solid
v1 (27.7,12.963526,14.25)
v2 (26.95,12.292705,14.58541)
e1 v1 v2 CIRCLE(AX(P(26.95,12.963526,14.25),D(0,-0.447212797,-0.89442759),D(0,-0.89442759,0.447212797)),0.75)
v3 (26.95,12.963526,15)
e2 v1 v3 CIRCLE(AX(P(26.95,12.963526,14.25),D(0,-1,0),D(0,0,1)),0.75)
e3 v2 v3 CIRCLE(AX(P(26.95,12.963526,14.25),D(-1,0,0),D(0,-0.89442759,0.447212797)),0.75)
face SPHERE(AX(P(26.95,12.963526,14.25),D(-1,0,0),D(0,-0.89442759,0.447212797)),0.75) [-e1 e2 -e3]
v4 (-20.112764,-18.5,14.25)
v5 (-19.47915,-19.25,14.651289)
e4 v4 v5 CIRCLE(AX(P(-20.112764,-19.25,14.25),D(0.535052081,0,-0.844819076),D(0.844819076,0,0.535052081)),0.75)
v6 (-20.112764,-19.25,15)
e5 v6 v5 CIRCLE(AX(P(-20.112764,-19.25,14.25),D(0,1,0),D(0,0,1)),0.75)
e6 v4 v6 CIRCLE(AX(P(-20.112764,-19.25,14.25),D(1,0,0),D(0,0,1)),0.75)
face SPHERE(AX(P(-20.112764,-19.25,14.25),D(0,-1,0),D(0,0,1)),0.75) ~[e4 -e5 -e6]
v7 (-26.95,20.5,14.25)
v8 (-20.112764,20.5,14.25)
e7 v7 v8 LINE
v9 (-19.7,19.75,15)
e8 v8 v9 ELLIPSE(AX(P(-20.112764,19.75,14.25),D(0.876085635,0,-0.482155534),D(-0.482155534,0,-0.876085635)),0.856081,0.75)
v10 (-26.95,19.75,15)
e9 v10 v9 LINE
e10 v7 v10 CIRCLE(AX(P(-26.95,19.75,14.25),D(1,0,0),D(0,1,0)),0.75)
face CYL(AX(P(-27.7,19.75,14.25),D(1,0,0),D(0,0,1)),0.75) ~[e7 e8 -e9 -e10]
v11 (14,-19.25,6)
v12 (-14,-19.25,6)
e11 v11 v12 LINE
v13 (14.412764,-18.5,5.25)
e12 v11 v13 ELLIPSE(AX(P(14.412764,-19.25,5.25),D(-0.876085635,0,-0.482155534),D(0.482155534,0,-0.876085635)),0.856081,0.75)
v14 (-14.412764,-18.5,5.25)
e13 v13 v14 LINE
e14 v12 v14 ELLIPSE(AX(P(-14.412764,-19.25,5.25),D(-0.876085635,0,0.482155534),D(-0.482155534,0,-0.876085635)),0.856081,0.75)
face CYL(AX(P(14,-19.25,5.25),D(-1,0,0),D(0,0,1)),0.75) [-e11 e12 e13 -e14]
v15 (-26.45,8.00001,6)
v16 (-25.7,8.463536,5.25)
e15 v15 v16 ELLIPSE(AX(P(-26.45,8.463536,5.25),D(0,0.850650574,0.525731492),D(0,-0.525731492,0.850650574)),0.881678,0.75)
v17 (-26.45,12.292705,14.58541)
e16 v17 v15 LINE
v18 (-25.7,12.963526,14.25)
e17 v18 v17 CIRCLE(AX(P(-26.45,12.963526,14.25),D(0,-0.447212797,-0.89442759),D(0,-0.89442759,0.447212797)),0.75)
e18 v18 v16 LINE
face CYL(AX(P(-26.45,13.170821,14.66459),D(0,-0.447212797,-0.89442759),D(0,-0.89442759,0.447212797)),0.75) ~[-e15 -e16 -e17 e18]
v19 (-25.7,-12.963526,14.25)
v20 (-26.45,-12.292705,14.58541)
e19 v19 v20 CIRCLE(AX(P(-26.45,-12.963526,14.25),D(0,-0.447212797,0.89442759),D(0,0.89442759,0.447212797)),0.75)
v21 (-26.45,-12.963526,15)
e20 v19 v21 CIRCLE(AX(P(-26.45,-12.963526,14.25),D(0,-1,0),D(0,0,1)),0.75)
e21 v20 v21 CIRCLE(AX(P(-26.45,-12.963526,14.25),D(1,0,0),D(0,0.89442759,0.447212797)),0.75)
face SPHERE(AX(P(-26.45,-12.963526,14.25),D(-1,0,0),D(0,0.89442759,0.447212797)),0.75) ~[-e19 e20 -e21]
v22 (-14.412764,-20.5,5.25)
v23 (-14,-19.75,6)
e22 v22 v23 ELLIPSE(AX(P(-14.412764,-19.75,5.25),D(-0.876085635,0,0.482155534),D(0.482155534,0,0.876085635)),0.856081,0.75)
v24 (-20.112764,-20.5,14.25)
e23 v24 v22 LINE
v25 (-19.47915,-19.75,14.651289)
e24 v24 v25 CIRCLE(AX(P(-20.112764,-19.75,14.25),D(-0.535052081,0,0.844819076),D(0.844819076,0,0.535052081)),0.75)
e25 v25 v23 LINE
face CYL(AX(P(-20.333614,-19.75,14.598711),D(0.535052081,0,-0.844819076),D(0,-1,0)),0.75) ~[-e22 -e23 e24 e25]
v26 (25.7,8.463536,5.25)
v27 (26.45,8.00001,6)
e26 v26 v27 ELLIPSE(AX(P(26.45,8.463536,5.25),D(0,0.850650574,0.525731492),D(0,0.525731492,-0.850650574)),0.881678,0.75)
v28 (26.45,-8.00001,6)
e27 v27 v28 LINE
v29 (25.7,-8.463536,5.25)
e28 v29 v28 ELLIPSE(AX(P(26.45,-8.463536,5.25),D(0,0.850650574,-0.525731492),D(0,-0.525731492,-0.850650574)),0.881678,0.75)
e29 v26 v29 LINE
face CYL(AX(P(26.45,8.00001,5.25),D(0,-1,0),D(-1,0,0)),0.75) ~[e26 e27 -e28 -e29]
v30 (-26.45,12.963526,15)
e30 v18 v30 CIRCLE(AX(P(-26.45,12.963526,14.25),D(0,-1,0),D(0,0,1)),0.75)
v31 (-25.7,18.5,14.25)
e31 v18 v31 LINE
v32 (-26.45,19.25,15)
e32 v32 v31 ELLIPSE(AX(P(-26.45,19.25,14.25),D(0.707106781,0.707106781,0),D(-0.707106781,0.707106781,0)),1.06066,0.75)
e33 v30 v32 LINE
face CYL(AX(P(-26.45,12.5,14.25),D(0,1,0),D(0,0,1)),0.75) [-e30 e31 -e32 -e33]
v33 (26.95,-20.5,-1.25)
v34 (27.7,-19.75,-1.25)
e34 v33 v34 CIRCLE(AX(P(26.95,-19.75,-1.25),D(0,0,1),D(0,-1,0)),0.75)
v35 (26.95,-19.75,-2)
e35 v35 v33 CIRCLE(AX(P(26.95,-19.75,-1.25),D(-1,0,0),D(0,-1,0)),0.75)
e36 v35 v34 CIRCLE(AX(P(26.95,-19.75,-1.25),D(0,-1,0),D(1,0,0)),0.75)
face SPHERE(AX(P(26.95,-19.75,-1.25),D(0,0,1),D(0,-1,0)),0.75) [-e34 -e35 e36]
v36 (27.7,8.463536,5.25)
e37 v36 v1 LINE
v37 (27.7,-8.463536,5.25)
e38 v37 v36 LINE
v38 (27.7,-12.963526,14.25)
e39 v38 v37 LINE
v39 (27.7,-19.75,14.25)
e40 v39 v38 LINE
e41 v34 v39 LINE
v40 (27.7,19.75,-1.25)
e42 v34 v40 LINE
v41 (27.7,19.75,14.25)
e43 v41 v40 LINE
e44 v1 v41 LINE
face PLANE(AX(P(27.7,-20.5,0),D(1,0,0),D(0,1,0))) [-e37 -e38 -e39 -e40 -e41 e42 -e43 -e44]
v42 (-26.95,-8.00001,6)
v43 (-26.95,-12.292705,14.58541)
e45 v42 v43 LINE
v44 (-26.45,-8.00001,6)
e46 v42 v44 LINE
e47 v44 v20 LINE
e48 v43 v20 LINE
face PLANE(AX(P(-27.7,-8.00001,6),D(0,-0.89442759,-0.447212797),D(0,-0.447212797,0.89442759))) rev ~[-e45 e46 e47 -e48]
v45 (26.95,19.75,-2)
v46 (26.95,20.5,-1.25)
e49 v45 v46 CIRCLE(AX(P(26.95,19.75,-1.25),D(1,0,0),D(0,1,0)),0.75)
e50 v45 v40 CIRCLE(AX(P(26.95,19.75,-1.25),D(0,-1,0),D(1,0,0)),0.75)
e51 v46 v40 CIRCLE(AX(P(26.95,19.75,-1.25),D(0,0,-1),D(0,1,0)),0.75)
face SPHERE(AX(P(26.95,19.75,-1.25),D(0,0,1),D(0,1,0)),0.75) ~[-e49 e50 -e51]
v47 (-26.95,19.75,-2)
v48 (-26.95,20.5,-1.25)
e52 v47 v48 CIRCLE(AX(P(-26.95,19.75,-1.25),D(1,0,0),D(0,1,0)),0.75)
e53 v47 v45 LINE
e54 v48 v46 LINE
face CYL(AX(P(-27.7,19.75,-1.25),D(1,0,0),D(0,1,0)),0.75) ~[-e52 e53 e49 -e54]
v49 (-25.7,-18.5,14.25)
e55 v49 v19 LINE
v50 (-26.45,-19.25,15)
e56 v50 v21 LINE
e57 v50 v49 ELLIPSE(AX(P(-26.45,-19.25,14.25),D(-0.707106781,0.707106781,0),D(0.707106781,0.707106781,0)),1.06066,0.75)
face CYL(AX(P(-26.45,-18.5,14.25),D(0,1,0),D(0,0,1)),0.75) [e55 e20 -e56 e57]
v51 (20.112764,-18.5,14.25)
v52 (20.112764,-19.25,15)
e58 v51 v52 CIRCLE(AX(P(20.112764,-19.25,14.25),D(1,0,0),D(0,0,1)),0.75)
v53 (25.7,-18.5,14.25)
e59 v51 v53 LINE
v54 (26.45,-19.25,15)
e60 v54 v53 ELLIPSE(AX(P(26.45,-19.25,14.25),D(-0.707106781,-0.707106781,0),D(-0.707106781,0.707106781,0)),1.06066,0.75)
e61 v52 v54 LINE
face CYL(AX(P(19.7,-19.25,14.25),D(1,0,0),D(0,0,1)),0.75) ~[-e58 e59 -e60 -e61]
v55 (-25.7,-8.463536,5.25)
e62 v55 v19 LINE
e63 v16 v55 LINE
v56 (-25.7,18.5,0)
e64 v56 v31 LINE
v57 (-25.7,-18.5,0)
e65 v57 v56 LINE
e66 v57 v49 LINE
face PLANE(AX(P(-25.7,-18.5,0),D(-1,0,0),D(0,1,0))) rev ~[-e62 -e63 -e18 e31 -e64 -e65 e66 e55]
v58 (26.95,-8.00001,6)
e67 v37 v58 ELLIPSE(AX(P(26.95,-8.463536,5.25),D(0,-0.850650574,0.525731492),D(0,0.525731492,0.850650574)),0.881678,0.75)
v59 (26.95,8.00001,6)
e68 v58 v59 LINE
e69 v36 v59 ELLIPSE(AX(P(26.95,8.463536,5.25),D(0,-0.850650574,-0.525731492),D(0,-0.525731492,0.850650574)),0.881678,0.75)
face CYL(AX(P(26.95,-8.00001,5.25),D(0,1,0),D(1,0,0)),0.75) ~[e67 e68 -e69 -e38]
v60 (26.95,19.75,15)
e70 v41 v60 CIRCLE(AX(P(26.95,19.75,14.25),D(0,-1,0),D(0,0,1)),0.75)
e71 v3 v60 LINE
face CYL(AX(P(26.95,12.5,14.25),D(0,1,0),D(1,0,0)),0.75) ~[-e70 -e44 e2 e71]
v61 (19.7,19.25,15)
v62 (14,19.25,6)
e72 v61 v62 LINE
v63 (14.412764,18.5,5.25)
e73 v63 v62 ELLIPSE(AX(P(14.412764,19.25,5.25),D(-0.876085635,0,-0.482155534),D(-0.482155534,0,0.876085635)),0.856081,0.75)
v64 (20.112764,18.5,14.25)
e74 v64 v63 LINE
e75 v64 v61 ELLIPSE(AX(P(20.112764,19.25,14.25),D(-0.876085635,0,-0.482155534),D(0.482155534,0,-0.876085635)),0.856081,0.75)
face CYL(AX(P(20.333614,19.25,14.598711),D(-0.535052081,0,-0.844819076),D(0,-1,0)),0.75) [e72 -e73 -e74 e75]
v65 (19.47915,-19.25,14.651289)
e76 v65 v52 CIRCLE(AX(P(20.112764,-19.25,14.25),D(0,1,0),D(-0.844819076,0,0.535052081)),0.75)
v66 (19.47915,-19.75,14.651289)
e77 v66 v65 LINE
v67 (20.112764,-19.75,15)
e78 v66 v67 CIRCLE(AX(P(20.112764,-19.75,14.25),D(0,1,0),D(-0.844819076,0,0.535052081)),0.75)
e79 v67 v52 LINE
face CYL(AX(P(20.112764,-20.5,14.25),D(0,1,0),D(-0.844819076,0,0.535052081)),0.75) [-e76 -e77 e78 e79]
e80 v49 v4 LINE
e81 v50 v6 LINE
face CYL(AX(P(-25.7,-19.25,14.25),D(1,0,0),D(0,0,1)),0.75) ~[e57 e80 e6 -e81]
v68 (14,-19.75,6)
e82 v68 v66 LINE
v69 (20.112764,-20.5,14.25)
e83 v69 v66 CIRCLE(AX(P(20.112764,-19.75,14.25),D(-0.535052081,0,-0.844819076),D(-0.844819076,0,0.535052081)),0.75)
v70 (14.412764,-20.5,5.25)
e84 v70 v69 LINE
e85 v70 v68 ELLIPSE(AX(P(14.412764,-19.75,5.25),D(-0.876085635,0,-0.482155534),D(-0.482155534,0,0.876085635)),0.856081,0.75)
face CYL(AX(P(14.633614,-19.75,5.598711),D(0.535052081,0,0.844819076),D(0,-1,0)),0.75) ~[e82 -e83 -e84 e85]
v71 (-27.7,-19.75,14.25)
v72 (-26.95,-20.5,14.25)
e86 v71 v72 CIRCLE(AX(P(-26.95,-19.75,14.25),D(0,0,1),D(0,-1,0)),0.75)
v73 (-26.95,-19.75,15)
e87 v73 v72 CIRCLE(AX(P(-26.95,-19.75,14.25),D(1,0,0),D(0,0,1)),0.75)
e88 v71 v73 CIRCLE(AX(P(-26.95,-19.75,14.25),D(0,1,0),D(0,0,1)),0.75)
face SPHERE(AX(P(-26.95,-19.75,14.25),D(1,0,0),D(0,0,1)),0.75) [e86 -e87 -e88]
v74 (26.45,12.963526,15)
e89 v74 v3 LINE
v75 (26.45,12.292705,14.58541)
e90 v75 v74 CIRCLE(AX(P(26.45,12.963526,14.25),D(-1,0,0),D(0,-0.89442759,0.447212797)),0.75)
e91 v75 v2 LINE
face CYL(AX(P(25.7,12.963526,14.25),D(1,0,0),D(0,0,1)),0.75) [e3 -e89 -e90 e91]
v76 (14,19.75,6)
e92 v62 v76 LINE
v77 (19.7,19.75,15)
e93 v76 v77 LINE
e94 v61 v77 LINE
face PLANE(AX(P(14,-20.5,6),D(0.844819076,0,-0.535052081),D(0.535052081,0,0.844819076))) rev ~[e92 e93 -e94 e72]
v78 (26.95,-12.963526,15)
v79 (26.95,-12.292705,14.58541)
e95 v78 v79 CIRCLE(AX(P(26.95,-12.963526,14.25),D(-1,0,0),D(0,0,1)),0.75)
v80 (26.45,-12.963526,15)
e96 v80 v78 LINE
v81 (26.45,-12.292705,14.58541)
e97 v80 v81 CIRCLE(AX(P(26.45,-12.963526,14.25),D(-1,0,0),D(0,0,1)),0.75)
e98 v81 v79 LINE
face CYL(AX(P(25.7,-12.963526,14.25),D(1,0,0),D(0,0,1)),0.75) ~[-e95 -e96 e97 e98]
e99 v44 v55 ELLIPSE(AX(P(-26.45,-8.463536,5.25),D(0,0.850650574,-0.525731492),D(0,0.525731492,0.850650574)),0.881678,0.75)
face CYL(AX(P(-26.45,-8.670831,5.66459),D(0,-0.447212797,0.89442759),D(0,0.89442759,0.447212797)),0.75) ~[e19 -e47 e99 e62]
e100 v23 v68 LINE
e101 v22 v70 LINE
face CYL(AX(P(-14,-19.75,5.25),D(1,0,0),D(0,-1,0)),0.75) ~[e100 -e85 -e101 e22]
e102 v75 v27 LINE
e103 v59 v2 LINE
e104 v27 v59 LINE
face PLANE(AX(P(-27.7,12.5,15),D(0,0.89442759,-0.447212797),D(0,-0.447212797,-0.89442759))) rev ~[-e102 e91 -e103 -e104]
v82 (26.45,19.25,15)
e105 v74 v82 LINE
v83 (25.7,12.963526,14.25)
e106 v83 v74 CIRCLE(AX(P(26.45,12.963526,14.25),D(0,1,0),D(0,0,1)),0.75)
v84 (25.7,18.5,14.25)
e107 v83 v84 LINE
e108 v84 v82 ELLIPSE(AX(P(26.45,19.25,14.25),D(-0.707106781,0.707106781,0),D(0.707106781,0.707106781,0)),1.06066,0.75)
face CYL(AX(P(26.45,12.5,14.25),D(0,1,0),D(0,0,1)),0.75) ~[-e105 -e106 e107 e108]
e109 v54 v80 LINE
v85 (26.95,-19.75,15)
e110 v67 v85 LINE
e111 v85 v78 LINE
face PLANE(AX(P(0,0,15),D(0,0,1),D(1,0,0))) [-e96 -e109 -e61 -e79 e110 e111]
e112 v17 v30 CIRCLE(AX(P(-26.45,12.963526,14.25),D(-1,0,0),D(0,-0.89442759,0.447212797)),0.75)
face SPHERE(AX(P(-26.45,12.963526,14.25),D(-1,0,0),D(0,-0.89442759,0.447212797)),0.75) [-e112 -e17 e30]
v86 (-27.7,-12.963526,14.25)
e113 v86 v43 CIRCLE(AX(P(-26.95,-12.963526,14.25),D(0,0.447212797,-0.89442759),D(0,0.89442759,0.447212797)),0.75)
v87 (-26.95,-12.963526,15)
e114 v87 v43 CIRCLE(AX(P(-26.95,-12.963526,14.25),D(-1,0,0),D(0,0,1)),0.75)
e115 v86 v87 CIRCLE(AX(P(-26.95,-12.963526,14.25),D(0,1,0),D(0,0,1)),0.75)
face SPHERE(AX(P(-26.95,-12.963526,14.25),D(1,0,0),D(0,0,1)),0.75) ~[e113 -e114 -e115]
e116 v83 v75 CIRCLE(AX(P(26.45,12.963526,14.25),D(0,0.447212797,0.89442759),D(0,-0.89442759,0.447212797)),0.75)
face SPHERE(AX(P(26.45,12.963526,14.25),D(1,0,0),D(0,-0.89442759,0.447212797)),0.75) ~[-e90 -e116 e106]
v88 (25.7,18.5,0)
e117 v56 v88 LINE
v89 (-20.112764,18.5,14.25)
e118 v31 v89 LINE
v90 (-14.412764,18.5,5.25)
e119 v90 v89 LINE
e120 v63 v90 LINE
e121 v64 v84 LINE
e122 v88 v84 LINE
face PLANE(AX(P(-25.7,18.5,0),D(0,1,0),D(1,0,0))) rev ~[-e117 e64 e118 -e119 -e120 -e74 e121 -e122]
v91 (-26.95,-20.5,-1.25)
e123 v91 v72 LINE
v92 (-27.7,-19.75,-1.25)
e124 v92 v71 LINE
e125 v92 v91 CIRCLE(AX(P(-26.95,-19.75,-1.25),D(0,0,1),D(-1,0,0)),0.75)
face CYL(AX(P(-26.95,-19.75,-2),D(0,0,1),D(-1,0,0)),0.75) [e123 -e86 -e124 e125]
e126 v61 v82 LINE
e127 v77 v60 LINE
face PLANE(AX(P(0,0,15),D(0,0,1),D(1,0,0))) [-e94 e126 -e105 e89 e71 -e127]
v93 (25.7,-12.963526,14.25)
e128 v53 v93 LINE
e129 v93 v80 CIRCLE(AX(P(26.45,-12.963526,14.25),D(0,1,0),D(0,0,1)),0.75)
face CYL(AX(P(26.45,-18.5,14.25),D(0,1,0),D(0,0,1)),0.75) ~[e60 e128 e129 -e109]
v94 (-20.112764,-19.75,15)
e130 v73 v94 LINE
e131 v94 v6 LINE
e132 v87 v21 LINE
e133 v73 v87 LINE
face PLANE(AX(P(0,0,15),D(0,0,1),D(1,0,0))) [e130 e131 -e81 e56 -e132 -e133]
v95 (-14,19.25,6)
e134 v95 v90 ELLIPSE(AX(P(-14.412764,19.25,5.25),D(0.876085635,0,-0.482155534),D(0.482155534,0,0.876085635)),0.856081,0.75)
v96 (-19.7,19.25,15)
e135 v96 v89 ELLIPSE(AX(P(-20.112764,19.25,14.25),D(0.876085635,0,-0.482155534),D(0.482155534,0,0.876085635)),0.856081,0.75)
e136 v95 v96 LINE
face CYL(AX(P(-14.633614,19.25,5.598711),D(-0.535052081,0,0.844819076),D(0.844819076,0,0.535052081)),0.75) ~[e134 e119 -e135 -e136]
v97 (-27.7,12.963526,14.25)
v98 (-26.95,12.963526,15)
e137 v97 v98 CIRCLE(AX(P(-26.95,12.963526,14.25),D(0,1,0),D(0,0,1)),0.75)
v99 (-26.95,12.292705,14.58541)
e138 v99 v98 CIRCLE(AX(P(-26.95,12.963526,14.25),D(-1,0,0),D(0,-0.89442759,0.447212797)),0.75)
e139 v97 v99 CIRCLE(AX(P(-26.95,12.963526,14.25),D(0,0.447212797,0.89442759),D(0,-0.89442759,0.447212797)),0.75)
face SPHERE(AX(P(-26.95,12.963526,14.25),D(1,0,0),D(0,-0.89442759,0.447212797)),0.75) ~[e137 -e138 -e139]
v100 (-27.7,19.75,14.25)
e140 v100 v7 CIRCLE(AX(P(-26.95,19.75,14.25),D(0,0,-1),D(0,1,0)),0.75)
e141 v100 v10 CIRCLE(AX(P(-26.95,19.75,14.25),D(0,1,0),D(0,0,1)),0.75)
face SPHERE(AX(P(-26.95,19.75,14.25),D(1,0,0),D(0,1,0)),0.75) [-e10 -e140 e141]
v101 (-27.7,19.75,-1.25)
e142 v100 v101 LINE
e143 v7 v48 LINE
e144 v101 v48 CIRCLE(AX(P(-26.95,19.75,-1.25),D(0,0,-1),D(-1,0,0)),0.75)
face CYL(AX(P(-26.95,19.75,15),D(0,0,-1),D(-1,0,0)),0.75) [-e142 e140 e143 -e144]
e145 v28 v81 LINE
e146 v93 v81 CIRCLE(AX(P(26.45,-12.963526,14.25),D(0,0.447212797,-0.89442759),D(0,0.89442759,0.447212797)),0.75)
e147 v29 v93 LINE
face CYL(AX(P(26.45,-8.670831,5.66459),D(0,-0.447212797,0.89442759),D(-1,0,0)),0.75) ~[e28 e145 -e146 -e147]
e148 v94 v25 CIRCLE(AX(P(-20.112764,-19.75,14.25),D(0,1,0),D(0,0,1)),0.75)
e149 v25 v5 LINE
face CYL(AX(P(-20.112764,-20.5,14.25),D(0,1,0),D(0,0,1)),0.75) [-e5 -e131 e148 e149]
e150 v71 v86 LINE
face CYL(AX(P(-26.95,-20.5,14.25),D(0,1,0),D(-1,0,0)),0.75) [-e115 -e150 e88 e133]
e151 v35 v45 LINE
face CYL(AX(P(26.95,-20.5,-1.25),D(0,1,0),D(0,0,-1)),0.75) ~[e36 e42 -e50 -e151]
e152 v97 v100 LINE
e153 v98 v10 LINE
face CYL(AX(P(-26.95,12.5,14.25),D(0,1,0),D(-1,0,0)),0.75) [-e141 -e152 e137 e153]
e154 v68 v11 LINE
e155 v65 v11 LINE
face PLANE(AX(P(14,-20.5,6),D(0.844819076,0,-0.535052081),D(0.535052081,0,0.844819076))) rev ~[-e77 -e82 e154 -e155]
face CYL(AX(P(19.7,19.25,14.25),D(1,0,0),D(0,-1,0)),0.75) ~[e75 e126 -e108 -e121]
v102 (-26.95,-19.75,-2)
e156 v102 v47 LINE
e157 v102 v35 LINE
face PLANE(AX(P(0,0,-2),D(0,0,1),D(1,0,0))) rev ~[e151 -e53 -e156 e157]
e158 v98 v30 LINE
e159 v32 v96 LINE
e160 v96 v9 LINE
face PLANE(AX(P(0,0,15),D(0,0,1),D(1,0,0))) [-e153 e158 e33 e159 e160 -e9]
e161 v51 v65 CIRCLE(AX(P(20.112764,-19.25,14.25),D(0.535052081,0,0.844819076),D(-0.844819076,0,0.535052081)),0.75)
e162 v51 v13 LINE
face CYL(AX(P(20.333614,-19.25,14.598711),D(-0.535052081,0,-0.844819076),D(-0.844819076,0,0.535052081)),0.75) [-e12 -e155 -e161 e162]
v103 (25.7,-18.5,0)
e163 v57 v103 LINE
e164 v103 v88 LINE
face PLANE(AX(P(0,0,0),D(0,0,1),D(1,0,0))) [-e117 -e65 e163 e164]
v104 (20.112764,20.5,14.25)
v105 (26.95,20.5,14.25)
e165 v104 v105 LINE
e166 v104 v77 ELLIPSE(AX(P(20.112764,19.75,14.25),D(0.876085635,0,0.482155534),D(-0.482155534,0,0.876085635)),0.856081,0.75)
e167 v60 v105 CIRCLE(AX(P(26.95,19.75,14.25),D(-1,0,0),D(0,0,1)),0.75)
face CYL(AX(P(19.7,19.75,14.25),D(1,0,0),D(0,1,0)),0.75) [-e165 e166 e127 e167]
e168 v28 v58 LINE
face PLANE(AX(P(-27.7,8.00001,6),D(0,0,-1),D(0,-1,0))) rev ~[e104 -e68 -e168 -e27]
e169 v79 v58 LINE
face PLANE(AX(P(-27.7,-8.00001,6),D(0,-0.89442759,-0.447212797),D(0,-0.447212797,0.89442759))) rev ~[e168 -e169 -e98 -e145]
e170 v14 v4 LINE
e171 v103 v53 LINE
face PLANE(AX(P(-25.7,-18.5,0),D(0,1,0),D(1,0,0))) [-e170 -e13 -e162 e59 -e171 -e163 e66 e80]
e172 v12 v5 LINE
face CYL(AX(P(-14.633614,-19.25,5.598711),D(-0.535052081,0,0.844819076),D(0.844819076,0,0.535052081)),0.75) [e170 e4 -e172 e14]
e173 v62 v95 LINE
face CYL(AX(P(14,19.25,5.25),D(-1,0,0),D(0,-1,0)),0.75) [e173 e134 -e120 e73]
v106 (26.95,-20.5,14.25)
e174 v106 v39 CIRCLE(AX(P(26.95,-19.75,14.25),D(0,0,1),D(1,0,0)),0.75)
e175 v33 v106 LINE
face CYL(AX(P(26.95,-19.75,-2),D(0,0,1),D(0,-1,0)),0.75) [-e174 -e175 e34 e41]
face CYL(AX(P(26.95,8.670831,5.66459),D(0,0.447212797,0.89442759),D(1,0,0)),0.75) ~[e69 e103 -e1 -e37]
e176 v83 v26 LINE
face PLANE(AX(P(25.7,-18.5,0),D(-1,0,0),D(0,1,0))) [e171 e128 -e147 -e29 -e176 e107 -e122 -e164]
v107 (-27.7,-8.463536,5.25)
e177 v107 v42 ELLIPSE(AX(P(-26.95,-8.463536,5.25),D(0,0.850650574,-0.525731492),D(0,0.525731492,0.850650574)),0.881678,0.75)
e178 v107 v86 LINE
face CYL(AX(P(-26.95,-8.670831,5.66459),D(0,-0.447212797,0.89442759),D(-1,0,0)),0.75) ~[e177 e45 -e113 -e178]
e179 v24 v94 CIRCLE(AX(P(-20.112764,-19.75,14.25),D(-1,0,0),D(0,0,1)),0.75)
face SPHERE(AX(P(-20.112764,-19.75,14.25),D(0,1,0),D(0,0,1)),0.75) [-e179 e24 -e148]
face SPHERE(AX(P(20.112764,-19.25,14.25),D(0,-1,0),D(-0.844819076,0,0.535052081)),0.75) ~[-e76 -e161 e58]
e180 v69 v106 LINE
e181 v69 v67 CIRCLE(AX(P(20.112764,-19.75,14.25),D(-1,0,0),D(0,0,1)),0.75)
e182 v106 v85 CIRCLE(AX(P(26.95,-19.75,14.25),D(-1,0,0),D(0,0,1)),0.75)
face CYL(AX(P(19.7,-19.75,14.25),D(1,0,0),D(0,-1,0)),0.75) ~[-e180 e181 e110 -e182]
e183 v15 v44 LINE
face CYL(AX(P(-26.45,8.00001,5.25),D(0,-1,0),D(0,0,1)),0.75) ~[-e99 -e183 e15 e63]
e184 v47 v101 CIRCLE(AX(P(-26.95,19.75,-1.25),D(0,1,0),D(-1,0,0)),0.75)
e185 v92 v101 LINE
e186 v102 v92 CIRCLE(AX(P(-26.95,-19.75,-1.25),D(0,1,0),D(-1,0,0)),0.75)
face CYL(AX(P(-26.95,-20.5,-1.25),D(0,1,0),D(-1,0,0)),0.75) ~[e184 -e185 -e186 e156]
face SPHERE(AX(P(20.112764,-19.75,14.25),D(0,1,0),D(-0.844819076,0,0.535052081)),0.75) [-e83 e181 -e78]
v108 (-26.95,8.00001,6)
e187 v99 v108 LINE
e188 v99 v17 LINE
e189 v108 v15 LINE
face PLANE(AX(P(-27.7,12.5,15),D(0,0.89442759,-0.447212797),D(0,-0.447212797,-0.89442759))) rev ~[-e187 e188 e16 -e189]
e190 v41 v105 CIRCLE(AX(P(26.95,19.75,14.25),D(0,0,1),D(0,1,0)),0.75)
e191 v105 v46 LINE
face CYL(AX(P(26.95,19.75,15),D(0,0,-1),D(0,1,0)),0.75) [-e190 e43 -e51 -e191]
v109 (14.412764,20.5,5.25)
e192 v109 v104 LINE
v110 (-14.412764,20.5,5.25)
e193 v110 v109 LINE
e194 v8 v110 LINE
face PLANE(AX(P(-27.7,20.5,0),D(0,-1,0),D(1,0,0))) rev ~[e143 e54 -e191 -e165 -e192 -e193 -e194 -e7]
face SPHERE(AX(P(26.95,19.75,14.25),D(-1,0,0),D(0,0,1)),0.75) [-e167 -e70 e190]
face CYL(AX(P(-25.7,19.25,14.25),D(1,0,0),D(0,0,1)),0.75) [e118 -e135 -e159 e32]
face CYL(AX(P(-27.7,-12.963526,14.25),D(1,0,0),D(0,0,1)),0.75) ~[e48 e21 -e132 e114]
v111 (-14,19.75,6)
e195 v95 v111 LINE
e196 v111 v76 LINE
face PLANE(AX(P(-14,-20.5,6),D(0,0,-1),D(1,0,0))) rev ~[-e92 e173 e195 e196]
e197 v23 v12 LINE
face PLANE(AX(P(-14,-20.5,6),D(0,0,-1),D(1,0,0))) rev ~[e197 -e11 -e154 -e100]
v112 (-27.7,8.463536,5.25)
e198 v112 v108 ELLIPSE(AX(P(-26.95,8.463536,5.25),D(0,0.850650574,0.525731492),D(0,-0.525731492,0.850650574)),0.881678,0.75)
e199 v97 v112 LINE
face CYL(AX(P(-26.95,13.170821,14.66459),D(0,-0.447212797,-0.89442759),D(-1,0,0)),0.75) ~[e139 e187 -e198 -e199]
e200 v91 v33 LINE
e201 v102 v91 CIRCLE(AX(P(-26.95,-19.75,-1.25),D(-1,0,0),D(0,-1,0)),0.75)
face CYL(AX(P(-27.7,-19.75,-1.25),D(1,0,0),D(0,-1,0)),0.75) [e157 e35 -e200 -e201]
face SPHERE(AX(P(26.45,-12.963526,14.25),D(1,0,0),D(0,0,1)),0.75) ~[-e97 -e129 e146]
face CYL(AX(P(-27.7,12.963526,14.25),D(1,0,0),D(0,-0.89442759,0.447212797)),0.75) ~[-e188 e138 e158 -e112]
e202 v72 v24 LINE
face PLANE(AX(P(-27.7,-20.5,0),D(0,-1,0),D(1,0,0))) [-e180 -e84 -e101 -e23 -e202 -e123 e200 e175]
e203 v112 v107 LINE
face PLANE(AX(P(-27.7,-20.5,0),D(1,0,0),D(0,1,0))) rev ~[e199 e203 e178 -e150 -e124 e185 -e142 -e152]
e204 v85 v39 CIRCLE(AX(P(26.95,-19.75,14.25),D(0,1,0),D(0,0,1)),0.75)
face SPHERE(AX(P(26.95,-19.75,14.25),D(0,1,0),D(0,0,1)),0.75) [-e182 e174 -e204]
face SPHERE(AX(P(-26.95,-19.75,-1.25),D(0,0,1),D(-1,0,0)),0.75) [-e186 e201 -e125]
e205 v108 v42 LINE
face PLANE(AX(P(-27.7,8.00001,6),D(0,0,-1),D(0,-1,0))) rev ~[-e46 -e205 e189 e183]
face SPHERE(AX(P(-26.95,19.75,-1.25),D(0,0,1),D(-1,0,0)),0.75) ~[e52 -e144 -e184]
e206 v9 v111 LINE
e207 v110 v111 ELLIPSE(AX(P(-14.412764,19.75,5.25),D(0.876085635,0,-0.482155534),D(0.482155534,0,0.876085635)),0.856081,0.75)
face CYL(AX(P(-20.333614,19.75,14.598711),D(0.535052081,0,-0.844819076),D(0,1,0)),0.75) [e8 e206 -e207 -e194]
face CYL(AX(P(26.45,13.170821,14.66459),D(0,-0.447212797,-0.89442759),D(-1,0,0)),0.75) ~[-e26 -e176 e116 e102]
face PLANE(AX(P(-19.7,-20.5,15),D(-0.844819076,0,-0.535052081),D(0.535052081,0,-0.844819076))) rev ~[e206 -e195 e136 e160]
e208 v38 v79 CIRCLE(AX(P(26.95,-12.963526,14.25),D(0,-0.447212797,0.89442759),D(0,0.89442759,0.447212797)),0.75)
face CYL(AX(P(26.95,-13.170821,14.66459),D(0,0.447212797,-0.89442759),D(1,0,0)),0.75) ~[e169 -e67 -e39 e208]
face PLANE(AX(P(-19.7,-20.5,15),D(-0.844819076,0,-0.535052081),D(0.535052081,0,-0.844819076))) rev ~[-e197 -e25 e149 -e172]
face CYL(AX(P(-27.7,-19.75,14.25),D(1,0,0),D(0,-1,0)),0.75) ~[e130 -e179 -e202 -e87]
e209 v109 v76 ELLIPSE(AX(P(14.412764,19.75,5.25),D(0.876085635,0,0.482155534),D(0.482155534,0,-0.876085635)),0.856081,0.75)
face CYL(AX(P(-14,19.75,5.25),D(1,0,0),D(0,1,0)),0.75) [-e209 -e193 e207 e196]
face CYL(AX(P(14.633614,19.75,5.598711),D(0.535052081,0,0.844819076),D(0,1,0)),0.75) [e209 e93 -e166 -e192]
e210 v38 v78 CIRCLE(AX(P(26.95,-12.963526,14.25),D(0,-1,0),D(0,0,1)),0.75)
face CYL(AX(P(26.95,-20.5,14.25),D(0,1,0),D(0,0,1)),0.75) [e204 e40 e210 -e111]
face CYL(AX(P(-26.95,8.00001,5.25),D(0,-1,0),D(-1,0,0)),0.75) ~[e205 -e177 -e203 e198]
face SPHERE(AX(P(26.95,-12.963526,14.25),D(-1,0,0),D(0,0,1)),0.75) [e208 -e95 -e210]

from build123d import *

# Parameters (mm, degrees)
F0_W     = 55.4
F0_H     = 41
F0_W_2   = 51.4
F0_H_2   = 37
F1_DEPTH = 15
F2_DEPTH = 2
F4_DEPTH = 41.001
F6_DEPTH = 55.401
F7_R     = 0.75


with BuildPart() as f1:
    # F0 (on Top) → F1 (new body)
    with BuildSketch(Plane.XY):
        Rectangle(F0_W, F0_H)
        Rectangle(F0_W_2, F0_H_2, mode=Mode.SUBTRACT)
    extrude(amount=F1_DEPTH)

    # F0 (on Top) → F2 (join)
    with BuildSketch(Plane.XY):
        Rectangle(F0_W, F0_H)
        Rectangle(F0_W_2, F0_H_2, mode=Mode.SUBTRACT)
        Rectangle(F0_W_2, F0_H_2)
    extrude(amount=-F2_DEPTH)

    # F3 (on face) → F4 (cut, through all)
    with BuildSketch(Plane.XZ.offset(20.5)):
        Polygon((19.7, 15), (-19.7, 15), (-14, 6), (14, 6), align=None)
    extrude(amount=-F4_DEPTH, mode=Mode.SUBTRACT)

    # F5 (on face) → F6 (cut, through all)
    with BuildSketch(Plane(origin=(-27.7, 0, 0), x_dir=(0, -1, 0), z_dir=(-1, 0, 0))):
        Polygon((12.5, 15), (-12.5, 15), (-8.0000100486, 6), (8.0000100486, 6), align=None)
    extrude(amount=-F6_DEPTH, mode=Mode.SUBTRACT)

    # F7
    f7_edges = [f1.edges().sort_by_distance(p)[0] for p in [
        (0, 20.5, 6),
        (16.85, 20.5, 10.5),
        (23.7, 20.5, 15),
        (27.7, 16.5, 15),
        (27.7, 20.5, 6.5),
        (-16.85, 20.5, 10.5),
        (-23.7, 20.5, 15),
        (-27.7, 20.5, 6.5),
        (-27.7, 16.5, 15),
        (-25.7, 15.5, 15),
        (-22.7, 18.5, 15),
        (-16.85, 18.5, 10.5),
        (0, 18.5, 6),
        (16.85, 18.5, 10.5),
        (22.7, 18.5, 15),
        (25.7, 15.5, 15),
        (26.7, 12.5, 15),
        (27.7, 10.250005, 10.5),
        (25.7, 10.250005, 10.5),
        (25.7, 0, 6),
        (27.7, 0, 6),
        (27.7, -10.250005, 10.5),
        (25.7, -10.250005, 10.5),
        (26.7, -12.5, 15),
        (27.7, -16.5, 15),
        (25.7, -15.5, 15),
        (22.7, -18.5, 15),
        (23.7, -20.5, 15),
        (27.7, -20.5, 6.5),
        (19.7, -19.5, 15),
        (16.85, -18.5, 10.5),
        (16.85, -20.5, 10.5),
        (0, -20.5, 6),
        (0, -18.5, 6),
        (-16.85, -18.5, 10.5),
        (-16.85, -20.5, 10.5),
        (-19.7, -19.5, 15),
        (-22.7, -18.5, 15),
        (-23.7, -20.5, 15),
        (-25.7, -15.5, 15),
        (-26.7, -12.5, 15),
        (-27.7, -16.5, 15),
        (-25.7, -10.250005, 10.5),
        (-27.7, -10.250005, 10.5),
        (-26.7, 12.5, 15),
        (-27.7, 0, 6),
        (-25.7, 0, 6),
        (-25.7, 10.250005, 10.5),
        (-27.7, 10.250005, 10.5),
        (-27.7, -20.5, 6.5),
        (-27.7, 0, -2),
        (0, 20.5, -2),
        (0, -20.5, -2),
        (27.7, 0, -2),
    ]]
    fillet(f7_edges, radius=F7_R)


solid = f1.part
